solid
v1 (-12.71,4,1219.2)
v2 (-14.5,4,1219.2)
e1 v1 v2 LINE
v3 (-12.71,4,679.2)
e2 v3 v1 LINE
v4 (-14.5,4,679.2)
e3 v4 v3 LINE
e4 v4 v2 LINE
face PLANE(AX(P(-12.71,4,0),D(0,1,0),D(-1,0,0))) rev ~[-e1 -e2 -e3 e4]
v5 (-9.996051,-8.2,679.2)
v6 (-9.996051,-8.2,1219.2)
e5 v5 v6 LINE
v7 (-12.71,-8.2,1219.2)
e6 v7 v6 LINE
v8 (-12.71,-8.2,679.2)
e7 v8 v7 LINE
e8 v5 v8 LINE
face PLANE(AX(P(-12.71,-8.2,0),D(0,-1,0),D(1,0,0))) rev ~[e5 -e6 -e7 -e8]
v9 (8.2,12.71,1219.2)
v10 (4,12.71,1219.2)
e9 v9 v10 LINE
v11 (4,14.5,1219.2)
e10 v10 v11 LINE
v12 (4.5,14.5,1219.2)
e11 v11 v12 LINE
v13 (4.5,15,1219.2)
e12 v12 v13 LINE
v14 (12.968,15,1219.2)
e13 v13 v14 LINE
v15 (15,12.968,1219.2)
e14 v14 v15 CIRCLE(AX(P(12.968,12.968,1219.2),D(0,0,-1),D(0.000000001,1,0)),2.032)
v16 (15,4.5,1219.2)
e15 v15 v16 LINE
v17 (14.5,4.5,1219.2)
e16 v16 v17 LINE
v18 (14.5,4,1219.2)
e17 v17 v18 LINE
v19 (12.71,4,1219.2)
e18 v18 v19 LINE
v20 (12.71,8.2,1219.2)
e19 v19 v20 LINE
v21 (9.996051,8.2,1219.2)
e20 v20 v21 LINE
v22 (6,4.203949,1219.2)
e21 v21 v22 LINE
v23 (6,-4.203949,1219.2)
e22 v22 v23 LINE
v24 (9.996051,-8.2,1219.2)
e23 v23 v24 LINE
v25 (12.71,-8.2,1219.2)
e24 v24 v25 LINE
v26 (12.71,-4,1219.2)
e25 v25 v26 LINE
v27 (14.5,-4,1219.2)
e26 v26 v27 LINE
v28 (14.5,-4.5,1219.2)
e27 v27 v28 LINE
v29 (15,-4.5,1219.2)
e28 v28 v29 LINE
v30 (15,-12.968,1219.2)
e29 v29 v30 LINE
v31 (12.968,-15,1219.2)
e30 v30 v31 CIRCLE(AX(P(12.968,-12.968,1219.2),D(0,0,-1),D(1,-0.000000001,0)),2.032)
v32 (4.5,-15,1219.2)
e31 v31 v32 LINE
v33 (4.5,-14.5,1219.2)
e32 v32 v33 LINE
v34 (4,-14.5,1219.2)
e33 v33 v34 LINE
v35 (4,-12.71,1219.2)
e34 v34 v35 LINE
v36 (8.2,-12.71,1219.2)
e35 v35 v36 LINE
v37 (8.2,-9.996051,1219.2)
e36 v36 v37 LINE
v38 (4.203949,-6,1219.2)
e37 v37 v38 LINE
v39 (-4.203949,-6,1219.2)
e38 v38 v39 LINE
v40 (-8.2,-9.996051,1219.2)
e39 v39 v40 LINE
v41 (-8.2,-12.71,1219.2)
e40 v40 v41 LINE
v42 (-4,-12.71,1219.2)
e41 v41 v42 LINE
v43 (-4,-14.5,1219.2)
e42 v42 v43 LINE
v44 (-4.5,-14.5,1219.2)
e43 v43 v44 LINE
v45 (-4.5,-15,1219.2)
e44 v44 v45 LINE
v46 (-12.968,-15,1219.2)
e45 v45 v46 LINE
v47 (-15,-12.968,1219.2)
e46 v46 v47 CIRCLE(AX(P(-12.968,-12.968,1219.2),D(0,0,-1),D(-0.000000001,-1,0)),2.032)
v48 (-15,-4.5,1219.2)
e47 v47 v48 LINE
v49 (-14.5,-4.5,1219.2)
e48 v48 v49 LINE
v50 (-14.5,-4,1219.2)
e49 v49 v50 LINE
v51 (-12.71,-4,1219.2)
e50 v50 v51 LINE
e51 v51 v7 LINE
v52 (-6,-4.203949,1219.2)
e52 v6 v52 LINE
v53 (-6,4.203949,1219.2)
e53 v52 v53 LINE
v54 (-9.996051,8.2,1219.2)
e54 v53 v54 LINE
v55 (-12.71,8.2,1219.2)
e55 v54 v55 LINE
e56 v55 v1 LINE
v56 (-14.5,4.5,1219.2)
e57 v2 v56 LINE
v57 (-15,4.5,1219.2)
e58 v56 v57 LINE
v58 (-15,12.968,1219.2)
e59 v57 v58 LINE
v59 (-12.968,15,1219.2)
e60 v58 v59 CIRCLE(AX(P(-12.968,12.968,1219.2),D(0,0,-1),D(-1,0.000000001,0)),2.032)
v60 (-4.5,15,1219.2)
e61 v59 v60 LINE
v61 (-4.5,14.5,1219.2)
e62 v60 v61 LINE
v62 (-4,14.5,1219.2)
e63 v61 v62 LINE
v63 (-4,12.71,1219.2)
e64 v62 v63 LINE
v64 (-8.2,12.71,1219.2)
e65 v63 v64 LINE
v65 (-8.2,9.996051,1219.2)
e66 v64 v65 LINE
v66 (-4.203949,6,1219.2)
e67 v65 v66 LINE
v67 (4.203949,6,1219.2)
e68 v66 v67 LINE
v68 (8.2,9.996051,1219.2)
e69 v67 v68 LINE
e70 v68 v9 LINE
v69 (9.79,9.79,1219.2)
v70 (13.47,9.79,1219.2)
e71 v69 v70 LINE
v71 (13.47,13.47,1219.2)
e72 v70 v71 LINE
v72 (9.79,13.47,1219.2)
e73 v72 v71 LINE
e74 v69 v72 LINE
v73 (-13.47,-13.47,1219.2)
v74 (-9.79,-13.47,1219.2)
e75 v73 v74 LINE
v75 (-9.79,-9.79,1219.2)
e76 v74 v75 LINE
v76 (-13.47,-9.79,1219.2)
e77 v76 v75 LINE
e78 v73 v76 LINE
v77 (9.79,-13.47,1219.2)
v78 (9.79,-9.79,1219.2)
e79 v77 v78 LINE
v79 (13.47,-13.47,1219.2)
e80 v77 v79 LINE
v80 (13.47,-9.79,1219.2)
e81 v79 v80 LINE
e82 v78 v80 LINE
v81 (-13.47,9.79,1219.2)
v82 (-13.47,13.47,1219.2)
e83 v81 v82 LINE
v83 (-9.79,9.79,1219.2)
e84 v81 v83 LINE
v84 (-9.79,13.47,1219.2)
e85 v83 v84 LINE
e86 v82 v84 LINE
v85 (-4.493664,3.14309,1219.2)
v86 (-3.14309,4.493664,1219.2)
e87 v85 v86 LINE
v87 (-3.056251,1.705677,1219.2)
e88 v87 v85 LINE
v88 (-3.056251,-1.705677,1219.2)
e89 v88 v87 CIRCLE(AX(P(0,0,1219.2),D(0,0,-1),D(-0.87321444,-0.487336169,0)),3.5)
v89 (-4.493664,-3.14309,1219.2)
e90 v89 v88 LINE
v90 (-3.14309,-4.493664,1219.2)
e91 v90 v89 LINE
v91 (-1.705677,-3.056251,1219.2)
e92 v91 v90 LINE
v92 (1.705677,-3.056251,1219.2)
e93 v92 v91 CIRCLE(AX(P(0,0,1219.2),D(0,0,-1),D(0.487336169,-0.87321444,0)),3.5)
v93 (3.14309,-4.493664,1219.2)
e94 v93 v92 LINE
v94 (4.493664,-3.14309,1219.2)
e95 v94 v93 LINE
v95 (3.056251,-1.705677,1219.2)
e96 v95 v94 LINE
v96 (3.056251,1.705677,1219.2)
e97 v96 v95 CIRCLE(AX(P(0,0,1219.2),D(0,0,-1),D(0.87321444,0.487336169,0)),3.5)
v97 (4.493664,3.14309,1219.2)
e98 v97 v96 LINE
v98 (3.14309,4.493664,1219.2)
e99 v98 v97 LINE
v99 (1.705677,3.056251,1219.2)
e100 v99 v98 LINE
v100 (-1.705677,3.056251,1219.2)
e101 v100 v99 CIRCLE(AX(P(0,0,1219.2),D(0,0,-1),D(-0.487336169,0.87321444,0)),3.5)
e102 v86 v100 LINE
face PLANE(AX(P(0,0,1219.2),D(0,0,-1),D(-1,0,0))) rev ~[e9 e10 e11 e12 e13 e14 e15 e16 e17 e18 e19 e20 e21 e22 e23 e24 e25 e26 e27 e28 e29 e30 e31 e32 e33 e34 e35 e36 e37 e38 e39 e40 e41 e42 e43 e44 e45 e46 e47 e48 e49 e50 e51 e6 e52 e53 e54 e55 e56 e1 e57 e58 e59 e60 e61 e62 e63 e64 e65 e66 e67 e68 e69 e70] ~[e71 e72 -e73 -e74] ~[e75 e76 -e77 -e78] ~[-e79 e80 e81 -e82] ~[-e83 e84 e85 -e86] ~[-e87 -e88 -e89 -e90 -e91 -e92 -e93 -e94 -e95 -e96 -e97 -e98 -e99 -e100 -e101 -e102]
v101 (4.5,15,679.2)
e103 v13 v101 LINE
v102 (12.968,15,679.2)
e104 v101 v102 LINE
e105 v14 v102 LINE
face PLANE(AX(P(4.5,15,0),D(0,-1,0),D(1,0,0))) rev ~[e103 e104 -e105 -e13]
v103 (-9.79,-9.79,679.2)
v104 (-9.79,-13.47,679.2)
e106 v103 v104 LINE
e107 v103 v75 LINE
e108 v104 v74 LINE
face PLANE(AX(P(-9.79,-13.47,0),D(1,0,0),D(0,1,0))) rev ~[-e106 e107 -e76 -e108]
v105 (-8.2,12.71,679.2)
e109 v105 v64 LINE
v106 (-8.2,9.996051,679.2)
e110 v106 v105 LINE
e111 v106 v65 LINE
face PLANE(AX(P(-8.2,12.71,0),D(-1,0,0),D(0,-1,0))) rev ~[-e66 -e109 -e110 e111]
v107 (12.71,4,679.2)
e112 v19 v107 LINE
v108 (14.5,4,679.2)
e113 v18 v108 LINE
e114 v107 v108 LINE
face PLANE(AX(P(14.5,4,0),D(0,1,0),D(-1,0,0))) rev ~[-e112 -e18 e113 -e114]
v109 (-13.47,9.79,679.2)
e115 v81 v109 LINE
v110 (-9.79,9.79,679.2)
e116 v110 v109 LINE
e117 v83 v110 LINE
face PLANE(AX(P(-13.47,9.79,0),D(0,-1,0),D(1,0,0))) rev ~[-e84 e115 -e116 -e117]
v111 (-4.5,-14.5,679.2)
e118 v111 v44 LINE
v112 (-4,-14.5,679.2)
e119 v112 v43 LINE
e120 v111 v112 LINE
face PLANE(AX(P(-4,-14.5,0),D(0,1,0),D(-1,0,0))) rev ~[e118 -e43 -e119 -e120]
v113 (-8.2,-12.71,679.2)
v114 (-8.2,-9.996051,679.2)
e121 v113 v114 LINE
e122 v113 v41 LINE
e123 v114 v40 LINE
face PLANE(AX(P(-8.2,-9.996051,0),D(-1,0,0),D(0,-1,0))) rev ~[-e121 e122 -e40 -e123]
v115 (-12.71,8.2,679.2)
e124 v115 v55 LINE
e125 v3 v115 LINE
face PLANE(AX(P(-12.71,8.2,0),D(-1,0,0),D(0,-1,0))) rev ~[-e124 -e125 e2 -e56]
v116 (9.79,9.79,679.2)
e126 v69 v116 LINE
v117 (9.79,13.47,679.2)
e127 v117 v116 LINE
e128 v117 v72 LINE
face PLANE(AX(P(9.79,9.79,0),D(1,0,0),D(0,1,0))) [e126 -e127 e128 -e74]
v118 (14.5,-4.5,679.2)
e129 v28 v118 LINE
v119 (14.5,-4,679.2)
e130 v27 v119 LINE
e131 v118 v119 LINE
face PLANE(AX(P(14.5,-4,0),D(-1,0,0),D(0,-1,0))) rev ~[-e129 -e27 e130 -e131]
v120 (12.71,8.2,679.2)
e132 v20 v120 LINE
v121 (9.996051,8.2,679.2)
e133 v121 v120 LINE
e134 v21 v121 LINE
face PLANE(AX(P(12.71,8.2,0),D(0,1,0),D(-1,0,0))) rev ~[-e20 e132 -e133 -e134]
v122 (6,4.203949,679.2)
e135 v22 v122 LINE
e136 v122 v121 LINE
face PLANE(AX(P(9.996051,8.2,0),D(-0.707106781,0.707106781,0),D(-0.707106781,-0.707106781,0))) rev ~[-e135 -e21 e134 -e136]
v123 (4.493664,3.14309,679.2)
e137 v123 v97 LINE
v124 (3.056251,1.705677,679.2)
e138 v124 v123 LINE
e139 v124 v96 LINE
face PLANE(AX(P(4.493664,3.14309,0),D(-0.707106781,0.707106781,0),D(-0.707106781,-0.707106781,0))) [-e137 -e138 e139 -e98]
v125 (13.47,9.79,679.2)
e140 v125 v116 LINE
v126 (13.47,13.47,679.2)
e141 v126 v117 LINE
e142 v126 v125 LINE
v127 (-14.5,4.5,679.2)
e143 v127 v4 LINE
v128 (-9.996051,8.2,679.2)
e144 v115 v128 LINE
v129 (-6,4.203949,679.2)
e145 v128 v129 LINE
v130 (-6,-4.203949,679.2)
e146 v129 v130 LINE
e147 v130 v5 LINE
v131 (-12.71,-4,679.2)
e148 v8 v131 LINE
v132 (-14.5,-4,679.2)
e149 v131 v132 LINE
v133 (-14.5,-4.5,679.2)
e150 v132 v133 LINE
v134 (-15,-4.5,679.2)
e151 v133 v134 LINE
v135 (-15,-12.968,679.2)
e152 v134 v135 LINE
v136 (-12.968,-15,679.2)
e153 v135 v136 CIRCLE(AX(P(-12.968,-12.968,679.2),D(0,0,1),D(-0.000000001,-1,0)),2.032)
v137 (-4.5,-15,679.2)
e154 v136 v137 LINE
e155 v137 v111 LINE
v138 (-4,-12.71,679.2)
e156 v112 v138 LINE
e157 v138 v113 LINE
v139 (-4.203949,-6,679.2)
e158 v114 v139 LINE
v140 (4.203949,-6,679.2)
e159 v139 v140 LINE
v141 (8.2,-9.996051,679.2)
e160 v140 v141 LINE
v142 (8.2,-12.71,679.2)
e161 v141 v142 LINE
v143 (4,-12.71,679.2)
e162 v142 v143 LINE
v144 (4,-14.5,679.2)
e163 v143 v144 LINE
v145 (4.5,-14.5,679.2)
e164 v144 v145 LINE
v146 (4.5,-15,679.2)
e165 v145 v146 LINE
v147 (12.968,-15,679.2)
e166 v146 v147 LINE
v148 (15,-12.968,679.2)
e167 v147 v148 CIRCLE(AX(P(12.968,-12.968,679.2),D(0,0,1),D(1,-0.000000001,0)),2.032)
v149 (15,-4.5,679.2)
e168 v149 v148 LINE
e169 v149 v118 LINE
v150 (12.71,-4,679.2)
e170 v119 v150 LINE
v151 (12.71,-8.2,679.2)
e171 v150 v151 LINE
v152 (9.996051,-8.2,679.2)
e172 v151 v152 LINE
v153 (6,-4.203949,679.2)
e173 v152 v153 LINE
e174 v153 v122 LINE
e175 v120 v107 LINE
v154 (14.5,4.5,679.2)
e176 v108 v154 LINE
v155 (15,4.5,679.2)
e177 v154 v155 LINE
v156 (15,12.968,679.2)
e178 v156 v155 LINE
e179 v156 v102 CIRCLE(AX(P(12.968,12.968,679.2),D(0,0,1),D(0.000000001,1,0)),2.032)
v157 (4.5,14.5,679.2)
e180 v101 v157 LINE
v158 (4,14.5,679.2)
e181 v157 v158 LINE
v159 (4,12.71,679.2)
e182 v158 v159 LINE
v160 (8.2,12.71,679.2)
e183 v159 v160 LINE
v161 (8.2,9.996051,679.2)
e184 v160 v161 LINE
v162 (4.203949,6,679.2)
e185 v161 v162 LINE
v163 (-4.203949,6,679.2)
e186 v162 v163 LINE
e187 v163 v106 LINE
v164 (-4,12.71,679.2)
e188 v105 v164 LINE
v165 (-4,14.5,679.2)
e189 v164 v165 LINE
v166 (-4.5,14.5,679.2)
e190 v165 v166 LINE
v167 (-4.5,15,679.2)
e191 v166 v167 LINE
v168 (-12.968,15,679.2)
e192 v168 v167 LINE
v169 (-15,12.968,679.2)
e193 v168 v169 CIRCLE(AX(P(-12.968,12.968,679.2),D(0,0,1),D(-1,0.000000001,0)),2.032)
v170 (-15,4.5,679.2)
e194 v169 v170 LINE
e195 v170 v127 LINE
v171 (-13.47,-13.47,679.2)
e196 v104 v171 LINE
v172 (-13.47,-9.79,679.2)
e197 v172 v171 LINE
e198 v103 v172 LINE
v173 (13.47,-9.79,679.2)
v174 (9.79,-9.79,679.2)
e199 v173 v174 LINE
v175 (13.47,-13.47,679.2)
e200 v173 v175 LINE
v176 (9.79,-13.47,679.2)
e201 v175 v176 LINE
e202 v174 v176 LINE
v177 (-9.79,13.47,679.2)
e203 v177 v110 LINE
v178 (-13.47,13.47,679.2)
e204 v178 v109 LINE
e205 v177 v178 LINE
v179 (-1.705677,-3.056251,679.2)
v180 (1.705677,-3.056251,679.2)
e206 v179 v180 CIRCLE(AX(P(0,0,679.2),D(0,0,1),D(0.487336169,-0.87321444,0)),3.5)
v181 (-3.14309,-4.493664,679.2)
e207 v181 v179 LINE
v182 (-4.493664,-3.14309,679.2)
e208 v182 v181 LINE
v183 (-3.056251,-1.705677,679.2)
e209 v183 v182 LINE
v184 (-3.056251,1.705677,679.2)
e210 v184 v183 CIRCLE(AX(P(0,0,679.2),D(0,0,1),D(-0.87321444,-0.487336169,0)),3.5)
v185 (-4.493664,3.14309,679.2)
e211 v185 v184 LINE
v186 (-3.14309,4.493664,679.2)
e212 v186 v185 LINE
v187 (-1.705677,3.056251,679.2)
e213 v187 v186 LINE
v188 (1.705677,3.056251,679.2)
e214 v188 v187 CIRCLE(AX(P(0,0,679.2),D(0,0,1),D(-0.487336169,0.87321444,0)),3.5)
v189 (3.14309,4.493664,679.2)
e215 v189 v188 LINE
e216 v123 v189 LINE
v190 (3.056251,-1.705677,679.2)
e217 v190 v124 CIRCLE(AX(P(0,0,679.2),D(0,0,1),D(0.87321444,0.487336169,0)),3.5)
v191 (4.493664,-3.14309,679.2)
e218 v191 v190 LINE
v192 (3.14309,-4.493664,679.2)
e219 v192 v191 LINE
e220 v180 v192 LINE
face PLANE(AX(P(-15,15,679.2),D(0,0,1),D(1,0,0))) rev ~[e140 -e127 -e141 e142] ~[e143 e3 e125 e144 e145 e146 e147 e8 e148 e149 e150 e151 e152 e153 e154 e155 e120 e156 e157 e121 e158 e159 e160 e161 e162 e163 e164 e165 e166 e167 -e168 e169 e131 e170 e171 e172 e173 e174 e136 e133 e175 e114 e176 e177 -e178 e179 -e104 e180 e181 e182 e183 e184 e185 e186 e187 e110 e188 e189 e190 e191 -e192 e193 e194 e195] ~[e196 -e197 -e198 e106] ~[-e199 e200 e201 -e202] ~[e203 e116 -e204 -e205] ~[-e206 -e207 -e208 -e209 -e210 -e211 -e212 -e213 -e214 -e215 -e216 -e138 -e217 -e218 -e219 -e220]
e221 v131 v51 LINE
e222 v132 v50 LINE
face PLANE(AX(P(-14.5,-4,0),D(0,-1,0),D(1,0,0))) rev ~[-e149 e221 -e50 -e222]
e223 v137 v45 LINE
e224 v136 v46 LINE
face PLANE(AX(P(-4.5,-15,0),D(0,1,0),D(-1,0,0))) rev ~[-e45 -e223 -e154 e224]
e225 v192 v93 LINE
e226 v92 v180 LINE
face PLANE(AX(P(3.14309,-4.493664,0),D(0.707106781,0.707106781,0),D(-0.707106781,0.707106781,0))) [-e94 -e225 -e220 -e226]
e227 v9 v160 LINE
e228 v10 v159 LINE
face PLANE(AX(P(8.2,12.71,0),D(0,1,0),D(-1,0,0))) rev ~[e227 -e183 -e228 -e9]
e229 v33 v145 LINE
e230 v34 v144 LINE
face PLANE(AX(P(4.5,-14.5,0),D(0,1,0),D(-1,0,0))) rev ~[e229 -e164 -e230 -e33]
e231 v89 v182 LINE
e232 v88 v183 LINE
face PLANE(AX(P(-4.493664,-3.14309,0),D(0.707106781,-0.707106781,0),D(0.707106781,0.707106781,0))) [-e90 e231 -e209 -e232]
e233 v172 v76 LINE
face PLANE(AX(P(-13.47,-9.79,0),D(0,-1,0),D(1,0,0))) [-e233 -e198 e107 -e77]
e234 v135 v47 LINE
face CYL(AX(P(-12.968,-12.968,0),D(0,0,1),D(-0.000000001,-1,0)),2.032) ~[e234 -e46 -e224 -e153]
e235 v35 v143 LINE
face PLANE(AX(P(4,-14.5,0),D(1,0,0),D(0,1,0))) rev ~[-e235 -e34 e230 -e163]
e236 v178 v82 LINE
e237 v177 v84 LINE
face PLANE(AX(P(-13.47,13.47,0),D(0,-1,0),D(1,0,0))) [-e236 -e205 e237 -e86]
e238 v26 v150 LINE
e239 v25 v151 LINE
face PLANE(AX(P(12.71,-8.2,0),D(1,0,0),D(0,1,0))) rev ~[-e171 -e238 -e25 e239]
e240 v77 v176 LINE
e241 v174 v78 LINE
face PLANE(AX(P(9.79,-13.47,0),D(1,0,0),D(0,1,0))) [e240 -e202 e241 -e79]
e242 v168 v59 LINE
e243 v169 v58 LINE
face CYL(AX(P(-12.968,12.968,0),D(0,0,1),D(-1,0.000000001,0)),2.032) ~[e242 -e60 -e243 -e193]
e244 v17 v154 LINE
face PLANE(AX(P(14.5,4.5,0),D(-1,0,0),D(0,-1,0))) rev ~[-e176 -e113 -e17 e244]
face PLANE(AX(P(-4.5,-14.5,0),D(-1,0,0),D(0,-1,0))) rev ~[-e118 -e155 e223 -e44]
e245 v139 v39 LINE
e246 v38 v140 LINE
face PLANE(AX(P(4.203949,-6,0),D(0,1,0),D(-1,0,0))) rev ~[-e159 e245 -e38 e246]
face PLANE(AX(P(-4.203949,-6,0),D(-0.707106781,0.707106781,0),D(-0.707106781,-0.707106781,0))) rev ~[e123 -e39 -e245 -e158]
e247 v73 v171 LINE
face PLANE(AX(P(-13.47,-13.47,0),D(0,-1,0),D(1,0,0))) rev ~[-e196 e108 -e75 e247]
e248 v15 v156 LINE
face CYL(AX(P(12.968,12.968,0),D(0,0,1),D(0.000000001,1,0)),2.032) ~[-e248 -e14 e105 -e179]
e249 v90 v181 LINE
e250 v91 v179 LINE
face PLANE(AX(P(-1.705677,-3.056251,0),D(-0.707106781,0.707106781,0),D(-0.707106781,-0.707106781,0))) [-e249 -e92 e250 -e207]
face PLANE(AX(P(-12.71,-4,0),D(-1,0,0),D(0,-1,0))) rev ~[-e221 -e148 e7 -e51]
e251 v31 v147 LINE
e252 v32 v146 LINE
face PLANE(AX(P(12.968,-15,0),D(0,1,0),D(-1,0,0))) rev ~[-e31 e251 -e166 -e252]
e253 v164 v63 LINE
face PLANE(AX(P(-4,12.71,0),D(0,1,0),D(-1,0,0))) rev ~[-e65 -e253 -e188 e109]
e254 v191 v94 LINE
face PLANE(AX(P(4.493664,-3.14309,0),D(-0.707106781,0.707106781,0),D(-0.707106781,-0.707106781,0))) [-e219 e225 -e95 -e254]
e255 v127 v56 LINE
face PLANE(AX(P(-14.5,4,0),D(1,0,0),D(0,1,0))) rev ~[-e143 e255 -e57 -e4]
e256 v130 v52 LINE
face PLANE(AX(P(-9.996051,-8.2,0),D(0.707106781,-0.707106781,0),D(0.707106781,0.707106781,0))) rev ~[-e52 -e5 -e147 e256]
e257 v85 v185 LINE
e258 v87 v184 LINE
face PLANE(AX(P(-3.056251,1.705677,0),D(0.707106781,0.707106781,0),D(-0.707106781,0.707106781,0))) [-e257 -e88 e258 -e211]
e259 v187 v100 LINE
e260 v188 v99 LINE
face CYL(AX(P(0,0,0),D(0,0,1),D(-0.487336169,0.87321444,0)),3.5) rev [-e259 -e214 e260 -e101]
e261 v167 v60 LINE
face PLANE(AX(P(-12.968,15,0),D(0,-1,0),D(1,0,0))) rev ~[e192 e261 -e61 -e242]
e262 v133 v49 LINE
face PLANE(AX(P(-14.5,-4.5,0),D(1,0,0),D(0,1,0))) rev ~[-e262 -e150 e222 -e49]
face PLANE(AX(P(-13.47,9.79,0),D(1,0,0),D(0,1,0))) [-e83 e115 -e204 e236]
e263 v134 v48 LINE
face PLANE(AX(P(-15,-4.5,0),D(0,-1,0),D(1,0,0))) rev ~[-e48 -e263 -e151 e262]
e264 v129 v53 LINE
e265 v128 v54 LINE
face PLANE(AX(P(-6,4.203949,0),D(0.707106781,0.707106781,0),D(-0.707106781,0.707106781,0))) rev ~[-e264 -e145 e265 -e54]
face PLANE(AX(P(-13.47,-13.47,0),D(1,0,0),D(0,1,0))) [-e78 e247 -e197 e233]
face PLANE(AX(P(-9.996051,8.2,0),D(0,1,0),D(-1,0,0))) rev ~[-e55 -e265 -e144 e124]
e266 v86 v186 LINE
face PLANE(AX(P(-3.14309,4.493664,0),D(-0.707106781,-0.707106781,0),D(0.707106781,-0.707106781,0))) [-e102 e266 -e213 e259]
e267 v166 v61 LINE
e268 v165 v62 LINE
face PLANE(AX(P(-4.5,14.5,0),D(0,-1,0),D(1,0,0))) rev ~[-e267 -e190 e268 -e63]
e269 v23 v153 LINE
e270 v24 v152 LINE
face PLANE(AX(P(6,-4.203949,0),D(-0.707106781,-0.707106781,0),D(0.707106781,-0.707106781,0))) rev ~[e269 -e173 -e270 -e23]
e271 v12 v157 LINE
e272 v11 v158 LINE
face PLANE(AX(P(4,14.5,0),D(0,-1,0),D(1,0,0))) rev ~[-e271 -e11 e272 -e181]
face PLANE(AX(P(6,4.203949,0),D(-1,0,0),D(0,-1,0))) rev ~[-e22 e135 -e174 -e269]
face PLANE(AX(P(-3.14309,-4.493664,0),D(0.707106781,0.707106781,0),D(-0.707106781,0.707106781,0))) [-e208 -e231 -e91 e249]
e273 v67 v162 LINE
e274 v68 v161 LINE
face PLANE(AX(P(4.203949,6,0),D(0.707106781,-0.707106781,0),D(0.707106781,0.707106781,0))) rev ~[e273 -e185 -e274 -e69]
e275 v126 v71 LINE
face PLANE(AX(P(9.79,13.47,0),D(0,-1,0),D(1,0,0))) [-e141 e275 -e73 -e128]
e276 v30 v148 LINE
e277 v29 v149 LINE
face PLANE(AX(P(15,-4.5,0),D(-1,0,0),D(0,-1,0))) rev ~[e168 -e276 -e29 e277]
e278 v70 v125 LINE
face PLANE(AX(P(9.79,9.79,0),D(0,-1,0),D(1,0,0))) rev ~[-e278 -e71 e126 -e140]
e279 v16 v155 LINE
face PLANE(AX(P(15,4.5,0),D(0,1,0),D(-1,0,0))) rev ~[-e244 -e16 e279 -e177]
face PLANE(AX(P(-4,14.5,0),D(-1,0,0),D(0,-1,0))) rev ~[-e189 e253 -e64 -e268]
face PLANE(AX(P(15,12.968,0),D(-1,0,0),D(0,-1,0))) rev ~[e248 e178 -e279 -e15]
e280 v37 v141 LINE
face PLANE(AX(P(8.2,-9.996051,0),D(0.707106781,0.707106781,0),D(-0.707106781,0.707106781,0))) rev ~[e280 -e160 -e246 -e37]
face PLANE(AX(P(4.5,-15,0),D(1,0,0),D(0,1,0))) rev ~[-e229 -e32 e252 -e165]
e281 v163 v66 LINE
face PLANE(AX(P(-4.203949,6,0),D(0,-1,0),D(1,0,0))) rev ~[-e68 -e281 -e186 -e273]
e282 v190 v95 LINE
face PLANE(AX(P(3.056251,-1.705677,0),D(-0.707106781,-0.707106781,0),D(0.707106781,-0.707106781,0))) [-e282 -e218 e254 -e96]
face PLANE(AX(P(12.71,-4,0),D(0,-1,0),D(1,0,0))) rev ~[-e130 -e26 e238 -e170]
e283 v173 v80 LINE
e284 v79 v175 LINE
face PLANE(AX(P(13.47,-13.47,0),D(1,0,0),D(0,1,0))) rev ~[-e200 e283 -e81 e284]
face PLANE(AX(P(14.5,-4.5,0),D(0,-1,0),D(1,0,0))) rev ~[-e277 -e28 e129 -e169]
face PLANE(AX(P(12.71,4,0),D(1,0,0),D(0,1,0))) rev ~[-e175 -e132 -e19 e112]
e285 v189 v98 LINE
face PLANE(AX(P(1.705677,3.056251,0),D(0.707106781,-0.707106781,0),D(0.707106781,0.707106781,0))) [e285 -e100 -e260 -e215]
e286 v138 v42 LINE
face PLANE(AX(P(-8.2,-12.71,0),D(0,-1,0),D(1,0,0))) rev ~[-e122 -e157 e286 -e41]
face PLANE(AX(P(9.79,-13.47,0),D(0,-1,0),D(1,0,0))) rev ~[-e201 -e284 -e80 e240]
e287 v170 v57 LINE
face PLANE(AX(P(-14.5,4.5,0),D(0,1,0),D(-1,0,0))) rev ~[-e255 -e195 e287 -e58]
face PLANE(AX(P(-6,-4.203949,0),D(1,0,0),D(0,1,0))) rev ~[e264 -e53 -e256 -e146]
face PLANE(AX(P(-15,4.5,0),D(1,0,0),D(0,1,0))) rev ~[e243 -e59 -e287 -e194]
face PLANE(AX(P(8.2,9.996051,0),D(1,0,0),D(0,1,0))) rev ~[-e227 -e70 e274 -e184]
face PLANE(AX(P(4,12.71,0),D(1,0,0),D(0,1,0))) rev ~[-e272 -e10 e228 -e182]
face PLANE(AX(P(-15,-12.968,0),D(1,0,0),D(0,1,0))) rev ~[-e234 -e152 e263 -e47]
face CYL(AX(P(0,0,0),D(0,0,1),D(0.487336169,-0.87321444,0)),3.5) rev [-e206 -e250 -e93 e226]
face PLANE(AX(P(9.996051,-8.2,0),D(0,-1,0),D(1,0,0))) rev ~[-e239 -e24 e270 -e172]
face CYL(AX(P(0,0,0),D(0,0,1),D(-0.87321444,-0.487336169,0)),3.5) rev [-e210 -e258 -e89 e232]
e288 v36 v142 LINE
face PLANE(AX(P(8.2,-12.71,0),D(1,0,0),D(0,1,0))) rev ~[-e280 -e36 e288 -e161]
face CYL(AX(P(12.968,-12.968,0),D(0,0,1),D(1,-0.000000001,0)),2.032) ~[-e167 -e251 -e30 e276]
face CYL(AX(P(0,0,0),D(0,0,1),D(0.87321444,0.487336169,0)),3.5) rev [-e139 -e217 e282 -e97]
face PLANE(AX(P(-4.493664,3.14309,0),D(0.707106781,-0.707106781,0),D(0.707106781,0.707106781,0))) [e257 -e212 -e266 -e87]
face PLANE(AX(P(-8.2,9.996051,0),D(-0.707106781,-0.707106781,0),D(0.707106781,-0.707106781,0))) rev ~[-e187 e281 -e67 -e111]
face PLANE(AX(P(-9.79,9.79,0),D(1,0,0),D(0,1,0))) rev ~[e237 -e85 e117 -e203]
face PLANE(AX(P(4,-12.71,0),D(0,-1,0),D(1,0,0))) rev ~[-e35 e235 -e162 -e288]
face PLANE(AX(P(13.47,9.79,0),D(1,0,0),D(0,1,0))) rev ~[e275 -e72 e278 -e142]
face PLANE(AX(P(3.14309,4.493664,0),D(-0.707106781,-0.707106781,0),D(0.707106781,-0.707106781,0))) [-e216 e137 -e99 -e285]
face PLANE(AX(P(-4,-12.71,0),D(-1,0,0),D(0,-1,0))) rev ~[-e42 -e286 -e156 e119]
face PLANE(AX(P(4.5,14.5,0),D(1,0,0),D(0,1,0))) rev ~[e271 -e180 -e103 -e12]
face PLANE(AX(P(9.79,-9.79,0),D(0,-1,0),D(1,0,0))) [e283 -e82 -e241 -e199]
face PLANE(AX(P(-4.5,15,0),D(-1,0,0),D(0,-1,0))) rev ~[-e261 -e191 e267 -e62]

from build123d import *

# Parameters (mm, degrees)
SKETCH3_W           = 3.68
SKETCH3_H           = 3.68
BOSS_EXTRUDE1_DEPTH = 1219.2
SKETCH4_W           = 30
SKETCH4_H           = 1898.4
CUT_EXTRUDE1_DEPTH  = 1220.661280848


with BuildPart() as part:
    # Sketch3 → Boss-Extrude1 (new, symmetric)
    with BuildSketch(Plane.XY):
        with BuildLine():
            Line((-4.203948776, 6), (0, 6))
            Line((0, 6), (4.203948776, 6))
            Line((4.203948776, 6), (8.2, 9.996051224))
            Line((8.2, 9.996051224), (8.2, 12.71))
            Line((8.2, 12.71), (4, 12.71))
            Line((4, 12.71), (4, 14.5))
            Line((4, 14.5), (4.5, 14.5))
            Line((4.5, 14.5), (4.5, 15))
            Line((4.5, 15), (12.968, 15))
            ThreePointArc((12.968, 15), (14.404840979, 14.404840979), (15, 12.968))
            Line((15, 12.968), (15, 4.5))
            Line((15, 4.5), (14.5, 4.5))
            Line((14.5, 4.5), (14.5, 4))
            Line((14.5, 4), (12.71, 4))
            Line((12.71, 4), (12.71, 8.2))
            Line((12.71, 8.2), (9.996051224, 8.2))
            Line((9.996051224, 8.2), (6, 4.203948776))
            Line((6, 4.203948776), (6, 0))
            Line((6, 0), (6, -4.203948776))
            Line((6, -4.203948776), (9.996051224, -8.2))
            Line((9.996051224, -8.2), (12.71, -8.2))
            Line((12.71, -8.2), (12.71, -4))
            Line((12.71, -4), (14.5, -4))
            Line((14.5, -4), (14.5, -4.5))
            Line((14.5, -4.5), (15, -4.5))
            Line((15, -4.5), (15, -12.968))
            ThreePointArc((15, -12.968), (14.404840979, -14.404840979), (12.968, -15))
            Line((12.968, -15), (4.5, -15))
            Line((4.5, -15), (4.5, -14.5))
            Line((4.5, -14.5), (4, -14.5))
            Line((4, -14.5), (4, -12.71))
            Line((4, -12.71), (8.2, -12.71))
            Line((8.2, -12.71), (8.2, -9.996051224))
            Line((8.2, -9.996051224), (4.203948776, -6))
            Line((4.203948776, -6), (0, -6))
            Line((0, -6), (-4.203948776, -6))
            Line((-4.203948776, -6), (-8.2, -9.996051224))
            Line((-8.2, -9.996051224), (-8.2, -12.71))
            Line((-8.2, -12.71), (-4, -12.71))
            Line((-4, -12.71), (-4, -14.5))
            Line((-4, -14.5), (-4.5, -14.5))
            Line((-4.5, -14.5), (-4.5, -15))
            Line((-4.5, -15), (-12.968, -15))
            ThreePointArc((-12.968, -15), (-14.404840979, -14.404840979), (-15, -12.968))
            Line((-15, -12.968), (-15, -4.5))
            Line((-15, -4.5), (-14.5, -4.5))
            Line((-14.5, -4.5), (-14.5, -4))
            Line((-14.5, -4), (-12.71, -4))
            Line((-12.71, -4), (-12.71, -8.2))
            Line((-12.71, -8.2), (-9.996051224, -8.2))
            Line((-9.996051224, -8.2), (-6, -4.203948776))
            Line((-6, -4.203948776), (-6, 0))
            Line((-6, 0), (-6, 4.203948776))
            Line((-6, 4.203948776), (-9.996051224, 8.2))
            Line((-9.996051224, 8.2), (-12.71, 8.2))
            Line((-12.71, 8.2), (-12.71, 4))
            Line((-12.71, 4), (-14.5, 4))
            Line((-14.5, 4), (-14.5, 4.5))
            Line((-14.5, 4.5), (-15, 4.5))
            Line((-15, 4.5), (-15, 12.968))
            ThreePointArc((-15, 12.968), (-14.404840979, 14.404840979), (-12.968, 15))
            Line((-12.968, 15), (-4.5, 15))
            Line((-4.5, 15), (-4.5, 14.5))
            Line((-4.5, 14.5), (-4, 14.5))
            Line((-4, 14.5), (-4, 12.71))
            Line((-4, 12.71), (-8.2, 12.71))
            Line((-8.2, 12.71), (-8.2, 9.996051224))
            Line((-8.2, 9.996051224), (-4.203948776, 6))
        make_face()
        with Locations((-11.63, 11.63)):
            Rectangle(SKETCH3_W, SKETCH3_H, mode=Mode.SUBTRACT)
        with BuildLine():
            Line((-3.143089642, 4.493663594), (-1.705676589, 3.056250541))
            ThreePointArc((-1.705676589, 3.056250541), (0, 3.5), (1.705676589, 3.056250541))
            Line((1.705676589, 3.056250541), (3.143089642, 4.493663594))
            Line((3.143089642, 4.493663594), (4.493663594, 3.143089642))
            Line((4.493663594, 3.143089642), (3.056250541, 1.705676589))
            ThreePointArc((3.056250541, 1.705676589), (3.5, 0), (3.056250541, -1.705676589))
            Line((3.056250541, -1.705676589), (4.493663594, -3.143089642))
            Line((4.493663594, -3.143089642), (3.143089642, -4.493663594))
            Line((3.143089642, -4.493663594), (1.705676589, -3.056250541))
            ThreePointArc((1.705676589, -3.056250541), (0, -3.5), (-1.705676589, -3.056250541))
            Line((-1.705676589, -3.056250541), (-3.143089642, -4.493663594))
            Line((-3.143089642, -4.493663594), (-4.493663594, -3.143089642))
            Line((-4.493663594, -3.143089642), (-3.056250541, -1.705676589))
            ThreePointArc((-3.056250541, -1.705676589), (-3.5, 0), (-3.056250541, 1.705676589))
            Line((-3.056250541, 1.705676589), (-4.493663594, 3.143089642))
            Line((-4.493663594, 3.143089642), (-3.143089642, 4.493663594))
        make_face(mode=Mode.SUBTRACT)
        with Locations((11.63, 11.63)):
            Rectangle(SKETCH3_W, SKETCH3_H, mode=Mode.SUBTRACT)
        with Locations((11.63, -11.63)):
            Rectangle(SKETCH3_W, SKETCH3_H, mode=Mode.SUBTRACT)
        with Locations((-11.63, -11.63)):
            Rectangle(SKETCH3_W, SKETCH3_H, mode=Mode.SUBTRACT)
    extrude(amount=BOSS_EXTRUDE1_DEPTH, both=True)

    # Sketch4 → Cut-Extrude1 (cut, through all)
    with BuildSketch(Plane(origin=(0, 15, 0), x_dir=(1, 0, 0), z_dir=(0, 1, 0))):
        with Locations((0, 270)):
            Rectangle(SKETCH4_W, SKETCH4_H)
    extrude(amount=-CUT_EXTRUDE1_DEPTH, mode=Mode.SUBTRACT)


solid = part.part
